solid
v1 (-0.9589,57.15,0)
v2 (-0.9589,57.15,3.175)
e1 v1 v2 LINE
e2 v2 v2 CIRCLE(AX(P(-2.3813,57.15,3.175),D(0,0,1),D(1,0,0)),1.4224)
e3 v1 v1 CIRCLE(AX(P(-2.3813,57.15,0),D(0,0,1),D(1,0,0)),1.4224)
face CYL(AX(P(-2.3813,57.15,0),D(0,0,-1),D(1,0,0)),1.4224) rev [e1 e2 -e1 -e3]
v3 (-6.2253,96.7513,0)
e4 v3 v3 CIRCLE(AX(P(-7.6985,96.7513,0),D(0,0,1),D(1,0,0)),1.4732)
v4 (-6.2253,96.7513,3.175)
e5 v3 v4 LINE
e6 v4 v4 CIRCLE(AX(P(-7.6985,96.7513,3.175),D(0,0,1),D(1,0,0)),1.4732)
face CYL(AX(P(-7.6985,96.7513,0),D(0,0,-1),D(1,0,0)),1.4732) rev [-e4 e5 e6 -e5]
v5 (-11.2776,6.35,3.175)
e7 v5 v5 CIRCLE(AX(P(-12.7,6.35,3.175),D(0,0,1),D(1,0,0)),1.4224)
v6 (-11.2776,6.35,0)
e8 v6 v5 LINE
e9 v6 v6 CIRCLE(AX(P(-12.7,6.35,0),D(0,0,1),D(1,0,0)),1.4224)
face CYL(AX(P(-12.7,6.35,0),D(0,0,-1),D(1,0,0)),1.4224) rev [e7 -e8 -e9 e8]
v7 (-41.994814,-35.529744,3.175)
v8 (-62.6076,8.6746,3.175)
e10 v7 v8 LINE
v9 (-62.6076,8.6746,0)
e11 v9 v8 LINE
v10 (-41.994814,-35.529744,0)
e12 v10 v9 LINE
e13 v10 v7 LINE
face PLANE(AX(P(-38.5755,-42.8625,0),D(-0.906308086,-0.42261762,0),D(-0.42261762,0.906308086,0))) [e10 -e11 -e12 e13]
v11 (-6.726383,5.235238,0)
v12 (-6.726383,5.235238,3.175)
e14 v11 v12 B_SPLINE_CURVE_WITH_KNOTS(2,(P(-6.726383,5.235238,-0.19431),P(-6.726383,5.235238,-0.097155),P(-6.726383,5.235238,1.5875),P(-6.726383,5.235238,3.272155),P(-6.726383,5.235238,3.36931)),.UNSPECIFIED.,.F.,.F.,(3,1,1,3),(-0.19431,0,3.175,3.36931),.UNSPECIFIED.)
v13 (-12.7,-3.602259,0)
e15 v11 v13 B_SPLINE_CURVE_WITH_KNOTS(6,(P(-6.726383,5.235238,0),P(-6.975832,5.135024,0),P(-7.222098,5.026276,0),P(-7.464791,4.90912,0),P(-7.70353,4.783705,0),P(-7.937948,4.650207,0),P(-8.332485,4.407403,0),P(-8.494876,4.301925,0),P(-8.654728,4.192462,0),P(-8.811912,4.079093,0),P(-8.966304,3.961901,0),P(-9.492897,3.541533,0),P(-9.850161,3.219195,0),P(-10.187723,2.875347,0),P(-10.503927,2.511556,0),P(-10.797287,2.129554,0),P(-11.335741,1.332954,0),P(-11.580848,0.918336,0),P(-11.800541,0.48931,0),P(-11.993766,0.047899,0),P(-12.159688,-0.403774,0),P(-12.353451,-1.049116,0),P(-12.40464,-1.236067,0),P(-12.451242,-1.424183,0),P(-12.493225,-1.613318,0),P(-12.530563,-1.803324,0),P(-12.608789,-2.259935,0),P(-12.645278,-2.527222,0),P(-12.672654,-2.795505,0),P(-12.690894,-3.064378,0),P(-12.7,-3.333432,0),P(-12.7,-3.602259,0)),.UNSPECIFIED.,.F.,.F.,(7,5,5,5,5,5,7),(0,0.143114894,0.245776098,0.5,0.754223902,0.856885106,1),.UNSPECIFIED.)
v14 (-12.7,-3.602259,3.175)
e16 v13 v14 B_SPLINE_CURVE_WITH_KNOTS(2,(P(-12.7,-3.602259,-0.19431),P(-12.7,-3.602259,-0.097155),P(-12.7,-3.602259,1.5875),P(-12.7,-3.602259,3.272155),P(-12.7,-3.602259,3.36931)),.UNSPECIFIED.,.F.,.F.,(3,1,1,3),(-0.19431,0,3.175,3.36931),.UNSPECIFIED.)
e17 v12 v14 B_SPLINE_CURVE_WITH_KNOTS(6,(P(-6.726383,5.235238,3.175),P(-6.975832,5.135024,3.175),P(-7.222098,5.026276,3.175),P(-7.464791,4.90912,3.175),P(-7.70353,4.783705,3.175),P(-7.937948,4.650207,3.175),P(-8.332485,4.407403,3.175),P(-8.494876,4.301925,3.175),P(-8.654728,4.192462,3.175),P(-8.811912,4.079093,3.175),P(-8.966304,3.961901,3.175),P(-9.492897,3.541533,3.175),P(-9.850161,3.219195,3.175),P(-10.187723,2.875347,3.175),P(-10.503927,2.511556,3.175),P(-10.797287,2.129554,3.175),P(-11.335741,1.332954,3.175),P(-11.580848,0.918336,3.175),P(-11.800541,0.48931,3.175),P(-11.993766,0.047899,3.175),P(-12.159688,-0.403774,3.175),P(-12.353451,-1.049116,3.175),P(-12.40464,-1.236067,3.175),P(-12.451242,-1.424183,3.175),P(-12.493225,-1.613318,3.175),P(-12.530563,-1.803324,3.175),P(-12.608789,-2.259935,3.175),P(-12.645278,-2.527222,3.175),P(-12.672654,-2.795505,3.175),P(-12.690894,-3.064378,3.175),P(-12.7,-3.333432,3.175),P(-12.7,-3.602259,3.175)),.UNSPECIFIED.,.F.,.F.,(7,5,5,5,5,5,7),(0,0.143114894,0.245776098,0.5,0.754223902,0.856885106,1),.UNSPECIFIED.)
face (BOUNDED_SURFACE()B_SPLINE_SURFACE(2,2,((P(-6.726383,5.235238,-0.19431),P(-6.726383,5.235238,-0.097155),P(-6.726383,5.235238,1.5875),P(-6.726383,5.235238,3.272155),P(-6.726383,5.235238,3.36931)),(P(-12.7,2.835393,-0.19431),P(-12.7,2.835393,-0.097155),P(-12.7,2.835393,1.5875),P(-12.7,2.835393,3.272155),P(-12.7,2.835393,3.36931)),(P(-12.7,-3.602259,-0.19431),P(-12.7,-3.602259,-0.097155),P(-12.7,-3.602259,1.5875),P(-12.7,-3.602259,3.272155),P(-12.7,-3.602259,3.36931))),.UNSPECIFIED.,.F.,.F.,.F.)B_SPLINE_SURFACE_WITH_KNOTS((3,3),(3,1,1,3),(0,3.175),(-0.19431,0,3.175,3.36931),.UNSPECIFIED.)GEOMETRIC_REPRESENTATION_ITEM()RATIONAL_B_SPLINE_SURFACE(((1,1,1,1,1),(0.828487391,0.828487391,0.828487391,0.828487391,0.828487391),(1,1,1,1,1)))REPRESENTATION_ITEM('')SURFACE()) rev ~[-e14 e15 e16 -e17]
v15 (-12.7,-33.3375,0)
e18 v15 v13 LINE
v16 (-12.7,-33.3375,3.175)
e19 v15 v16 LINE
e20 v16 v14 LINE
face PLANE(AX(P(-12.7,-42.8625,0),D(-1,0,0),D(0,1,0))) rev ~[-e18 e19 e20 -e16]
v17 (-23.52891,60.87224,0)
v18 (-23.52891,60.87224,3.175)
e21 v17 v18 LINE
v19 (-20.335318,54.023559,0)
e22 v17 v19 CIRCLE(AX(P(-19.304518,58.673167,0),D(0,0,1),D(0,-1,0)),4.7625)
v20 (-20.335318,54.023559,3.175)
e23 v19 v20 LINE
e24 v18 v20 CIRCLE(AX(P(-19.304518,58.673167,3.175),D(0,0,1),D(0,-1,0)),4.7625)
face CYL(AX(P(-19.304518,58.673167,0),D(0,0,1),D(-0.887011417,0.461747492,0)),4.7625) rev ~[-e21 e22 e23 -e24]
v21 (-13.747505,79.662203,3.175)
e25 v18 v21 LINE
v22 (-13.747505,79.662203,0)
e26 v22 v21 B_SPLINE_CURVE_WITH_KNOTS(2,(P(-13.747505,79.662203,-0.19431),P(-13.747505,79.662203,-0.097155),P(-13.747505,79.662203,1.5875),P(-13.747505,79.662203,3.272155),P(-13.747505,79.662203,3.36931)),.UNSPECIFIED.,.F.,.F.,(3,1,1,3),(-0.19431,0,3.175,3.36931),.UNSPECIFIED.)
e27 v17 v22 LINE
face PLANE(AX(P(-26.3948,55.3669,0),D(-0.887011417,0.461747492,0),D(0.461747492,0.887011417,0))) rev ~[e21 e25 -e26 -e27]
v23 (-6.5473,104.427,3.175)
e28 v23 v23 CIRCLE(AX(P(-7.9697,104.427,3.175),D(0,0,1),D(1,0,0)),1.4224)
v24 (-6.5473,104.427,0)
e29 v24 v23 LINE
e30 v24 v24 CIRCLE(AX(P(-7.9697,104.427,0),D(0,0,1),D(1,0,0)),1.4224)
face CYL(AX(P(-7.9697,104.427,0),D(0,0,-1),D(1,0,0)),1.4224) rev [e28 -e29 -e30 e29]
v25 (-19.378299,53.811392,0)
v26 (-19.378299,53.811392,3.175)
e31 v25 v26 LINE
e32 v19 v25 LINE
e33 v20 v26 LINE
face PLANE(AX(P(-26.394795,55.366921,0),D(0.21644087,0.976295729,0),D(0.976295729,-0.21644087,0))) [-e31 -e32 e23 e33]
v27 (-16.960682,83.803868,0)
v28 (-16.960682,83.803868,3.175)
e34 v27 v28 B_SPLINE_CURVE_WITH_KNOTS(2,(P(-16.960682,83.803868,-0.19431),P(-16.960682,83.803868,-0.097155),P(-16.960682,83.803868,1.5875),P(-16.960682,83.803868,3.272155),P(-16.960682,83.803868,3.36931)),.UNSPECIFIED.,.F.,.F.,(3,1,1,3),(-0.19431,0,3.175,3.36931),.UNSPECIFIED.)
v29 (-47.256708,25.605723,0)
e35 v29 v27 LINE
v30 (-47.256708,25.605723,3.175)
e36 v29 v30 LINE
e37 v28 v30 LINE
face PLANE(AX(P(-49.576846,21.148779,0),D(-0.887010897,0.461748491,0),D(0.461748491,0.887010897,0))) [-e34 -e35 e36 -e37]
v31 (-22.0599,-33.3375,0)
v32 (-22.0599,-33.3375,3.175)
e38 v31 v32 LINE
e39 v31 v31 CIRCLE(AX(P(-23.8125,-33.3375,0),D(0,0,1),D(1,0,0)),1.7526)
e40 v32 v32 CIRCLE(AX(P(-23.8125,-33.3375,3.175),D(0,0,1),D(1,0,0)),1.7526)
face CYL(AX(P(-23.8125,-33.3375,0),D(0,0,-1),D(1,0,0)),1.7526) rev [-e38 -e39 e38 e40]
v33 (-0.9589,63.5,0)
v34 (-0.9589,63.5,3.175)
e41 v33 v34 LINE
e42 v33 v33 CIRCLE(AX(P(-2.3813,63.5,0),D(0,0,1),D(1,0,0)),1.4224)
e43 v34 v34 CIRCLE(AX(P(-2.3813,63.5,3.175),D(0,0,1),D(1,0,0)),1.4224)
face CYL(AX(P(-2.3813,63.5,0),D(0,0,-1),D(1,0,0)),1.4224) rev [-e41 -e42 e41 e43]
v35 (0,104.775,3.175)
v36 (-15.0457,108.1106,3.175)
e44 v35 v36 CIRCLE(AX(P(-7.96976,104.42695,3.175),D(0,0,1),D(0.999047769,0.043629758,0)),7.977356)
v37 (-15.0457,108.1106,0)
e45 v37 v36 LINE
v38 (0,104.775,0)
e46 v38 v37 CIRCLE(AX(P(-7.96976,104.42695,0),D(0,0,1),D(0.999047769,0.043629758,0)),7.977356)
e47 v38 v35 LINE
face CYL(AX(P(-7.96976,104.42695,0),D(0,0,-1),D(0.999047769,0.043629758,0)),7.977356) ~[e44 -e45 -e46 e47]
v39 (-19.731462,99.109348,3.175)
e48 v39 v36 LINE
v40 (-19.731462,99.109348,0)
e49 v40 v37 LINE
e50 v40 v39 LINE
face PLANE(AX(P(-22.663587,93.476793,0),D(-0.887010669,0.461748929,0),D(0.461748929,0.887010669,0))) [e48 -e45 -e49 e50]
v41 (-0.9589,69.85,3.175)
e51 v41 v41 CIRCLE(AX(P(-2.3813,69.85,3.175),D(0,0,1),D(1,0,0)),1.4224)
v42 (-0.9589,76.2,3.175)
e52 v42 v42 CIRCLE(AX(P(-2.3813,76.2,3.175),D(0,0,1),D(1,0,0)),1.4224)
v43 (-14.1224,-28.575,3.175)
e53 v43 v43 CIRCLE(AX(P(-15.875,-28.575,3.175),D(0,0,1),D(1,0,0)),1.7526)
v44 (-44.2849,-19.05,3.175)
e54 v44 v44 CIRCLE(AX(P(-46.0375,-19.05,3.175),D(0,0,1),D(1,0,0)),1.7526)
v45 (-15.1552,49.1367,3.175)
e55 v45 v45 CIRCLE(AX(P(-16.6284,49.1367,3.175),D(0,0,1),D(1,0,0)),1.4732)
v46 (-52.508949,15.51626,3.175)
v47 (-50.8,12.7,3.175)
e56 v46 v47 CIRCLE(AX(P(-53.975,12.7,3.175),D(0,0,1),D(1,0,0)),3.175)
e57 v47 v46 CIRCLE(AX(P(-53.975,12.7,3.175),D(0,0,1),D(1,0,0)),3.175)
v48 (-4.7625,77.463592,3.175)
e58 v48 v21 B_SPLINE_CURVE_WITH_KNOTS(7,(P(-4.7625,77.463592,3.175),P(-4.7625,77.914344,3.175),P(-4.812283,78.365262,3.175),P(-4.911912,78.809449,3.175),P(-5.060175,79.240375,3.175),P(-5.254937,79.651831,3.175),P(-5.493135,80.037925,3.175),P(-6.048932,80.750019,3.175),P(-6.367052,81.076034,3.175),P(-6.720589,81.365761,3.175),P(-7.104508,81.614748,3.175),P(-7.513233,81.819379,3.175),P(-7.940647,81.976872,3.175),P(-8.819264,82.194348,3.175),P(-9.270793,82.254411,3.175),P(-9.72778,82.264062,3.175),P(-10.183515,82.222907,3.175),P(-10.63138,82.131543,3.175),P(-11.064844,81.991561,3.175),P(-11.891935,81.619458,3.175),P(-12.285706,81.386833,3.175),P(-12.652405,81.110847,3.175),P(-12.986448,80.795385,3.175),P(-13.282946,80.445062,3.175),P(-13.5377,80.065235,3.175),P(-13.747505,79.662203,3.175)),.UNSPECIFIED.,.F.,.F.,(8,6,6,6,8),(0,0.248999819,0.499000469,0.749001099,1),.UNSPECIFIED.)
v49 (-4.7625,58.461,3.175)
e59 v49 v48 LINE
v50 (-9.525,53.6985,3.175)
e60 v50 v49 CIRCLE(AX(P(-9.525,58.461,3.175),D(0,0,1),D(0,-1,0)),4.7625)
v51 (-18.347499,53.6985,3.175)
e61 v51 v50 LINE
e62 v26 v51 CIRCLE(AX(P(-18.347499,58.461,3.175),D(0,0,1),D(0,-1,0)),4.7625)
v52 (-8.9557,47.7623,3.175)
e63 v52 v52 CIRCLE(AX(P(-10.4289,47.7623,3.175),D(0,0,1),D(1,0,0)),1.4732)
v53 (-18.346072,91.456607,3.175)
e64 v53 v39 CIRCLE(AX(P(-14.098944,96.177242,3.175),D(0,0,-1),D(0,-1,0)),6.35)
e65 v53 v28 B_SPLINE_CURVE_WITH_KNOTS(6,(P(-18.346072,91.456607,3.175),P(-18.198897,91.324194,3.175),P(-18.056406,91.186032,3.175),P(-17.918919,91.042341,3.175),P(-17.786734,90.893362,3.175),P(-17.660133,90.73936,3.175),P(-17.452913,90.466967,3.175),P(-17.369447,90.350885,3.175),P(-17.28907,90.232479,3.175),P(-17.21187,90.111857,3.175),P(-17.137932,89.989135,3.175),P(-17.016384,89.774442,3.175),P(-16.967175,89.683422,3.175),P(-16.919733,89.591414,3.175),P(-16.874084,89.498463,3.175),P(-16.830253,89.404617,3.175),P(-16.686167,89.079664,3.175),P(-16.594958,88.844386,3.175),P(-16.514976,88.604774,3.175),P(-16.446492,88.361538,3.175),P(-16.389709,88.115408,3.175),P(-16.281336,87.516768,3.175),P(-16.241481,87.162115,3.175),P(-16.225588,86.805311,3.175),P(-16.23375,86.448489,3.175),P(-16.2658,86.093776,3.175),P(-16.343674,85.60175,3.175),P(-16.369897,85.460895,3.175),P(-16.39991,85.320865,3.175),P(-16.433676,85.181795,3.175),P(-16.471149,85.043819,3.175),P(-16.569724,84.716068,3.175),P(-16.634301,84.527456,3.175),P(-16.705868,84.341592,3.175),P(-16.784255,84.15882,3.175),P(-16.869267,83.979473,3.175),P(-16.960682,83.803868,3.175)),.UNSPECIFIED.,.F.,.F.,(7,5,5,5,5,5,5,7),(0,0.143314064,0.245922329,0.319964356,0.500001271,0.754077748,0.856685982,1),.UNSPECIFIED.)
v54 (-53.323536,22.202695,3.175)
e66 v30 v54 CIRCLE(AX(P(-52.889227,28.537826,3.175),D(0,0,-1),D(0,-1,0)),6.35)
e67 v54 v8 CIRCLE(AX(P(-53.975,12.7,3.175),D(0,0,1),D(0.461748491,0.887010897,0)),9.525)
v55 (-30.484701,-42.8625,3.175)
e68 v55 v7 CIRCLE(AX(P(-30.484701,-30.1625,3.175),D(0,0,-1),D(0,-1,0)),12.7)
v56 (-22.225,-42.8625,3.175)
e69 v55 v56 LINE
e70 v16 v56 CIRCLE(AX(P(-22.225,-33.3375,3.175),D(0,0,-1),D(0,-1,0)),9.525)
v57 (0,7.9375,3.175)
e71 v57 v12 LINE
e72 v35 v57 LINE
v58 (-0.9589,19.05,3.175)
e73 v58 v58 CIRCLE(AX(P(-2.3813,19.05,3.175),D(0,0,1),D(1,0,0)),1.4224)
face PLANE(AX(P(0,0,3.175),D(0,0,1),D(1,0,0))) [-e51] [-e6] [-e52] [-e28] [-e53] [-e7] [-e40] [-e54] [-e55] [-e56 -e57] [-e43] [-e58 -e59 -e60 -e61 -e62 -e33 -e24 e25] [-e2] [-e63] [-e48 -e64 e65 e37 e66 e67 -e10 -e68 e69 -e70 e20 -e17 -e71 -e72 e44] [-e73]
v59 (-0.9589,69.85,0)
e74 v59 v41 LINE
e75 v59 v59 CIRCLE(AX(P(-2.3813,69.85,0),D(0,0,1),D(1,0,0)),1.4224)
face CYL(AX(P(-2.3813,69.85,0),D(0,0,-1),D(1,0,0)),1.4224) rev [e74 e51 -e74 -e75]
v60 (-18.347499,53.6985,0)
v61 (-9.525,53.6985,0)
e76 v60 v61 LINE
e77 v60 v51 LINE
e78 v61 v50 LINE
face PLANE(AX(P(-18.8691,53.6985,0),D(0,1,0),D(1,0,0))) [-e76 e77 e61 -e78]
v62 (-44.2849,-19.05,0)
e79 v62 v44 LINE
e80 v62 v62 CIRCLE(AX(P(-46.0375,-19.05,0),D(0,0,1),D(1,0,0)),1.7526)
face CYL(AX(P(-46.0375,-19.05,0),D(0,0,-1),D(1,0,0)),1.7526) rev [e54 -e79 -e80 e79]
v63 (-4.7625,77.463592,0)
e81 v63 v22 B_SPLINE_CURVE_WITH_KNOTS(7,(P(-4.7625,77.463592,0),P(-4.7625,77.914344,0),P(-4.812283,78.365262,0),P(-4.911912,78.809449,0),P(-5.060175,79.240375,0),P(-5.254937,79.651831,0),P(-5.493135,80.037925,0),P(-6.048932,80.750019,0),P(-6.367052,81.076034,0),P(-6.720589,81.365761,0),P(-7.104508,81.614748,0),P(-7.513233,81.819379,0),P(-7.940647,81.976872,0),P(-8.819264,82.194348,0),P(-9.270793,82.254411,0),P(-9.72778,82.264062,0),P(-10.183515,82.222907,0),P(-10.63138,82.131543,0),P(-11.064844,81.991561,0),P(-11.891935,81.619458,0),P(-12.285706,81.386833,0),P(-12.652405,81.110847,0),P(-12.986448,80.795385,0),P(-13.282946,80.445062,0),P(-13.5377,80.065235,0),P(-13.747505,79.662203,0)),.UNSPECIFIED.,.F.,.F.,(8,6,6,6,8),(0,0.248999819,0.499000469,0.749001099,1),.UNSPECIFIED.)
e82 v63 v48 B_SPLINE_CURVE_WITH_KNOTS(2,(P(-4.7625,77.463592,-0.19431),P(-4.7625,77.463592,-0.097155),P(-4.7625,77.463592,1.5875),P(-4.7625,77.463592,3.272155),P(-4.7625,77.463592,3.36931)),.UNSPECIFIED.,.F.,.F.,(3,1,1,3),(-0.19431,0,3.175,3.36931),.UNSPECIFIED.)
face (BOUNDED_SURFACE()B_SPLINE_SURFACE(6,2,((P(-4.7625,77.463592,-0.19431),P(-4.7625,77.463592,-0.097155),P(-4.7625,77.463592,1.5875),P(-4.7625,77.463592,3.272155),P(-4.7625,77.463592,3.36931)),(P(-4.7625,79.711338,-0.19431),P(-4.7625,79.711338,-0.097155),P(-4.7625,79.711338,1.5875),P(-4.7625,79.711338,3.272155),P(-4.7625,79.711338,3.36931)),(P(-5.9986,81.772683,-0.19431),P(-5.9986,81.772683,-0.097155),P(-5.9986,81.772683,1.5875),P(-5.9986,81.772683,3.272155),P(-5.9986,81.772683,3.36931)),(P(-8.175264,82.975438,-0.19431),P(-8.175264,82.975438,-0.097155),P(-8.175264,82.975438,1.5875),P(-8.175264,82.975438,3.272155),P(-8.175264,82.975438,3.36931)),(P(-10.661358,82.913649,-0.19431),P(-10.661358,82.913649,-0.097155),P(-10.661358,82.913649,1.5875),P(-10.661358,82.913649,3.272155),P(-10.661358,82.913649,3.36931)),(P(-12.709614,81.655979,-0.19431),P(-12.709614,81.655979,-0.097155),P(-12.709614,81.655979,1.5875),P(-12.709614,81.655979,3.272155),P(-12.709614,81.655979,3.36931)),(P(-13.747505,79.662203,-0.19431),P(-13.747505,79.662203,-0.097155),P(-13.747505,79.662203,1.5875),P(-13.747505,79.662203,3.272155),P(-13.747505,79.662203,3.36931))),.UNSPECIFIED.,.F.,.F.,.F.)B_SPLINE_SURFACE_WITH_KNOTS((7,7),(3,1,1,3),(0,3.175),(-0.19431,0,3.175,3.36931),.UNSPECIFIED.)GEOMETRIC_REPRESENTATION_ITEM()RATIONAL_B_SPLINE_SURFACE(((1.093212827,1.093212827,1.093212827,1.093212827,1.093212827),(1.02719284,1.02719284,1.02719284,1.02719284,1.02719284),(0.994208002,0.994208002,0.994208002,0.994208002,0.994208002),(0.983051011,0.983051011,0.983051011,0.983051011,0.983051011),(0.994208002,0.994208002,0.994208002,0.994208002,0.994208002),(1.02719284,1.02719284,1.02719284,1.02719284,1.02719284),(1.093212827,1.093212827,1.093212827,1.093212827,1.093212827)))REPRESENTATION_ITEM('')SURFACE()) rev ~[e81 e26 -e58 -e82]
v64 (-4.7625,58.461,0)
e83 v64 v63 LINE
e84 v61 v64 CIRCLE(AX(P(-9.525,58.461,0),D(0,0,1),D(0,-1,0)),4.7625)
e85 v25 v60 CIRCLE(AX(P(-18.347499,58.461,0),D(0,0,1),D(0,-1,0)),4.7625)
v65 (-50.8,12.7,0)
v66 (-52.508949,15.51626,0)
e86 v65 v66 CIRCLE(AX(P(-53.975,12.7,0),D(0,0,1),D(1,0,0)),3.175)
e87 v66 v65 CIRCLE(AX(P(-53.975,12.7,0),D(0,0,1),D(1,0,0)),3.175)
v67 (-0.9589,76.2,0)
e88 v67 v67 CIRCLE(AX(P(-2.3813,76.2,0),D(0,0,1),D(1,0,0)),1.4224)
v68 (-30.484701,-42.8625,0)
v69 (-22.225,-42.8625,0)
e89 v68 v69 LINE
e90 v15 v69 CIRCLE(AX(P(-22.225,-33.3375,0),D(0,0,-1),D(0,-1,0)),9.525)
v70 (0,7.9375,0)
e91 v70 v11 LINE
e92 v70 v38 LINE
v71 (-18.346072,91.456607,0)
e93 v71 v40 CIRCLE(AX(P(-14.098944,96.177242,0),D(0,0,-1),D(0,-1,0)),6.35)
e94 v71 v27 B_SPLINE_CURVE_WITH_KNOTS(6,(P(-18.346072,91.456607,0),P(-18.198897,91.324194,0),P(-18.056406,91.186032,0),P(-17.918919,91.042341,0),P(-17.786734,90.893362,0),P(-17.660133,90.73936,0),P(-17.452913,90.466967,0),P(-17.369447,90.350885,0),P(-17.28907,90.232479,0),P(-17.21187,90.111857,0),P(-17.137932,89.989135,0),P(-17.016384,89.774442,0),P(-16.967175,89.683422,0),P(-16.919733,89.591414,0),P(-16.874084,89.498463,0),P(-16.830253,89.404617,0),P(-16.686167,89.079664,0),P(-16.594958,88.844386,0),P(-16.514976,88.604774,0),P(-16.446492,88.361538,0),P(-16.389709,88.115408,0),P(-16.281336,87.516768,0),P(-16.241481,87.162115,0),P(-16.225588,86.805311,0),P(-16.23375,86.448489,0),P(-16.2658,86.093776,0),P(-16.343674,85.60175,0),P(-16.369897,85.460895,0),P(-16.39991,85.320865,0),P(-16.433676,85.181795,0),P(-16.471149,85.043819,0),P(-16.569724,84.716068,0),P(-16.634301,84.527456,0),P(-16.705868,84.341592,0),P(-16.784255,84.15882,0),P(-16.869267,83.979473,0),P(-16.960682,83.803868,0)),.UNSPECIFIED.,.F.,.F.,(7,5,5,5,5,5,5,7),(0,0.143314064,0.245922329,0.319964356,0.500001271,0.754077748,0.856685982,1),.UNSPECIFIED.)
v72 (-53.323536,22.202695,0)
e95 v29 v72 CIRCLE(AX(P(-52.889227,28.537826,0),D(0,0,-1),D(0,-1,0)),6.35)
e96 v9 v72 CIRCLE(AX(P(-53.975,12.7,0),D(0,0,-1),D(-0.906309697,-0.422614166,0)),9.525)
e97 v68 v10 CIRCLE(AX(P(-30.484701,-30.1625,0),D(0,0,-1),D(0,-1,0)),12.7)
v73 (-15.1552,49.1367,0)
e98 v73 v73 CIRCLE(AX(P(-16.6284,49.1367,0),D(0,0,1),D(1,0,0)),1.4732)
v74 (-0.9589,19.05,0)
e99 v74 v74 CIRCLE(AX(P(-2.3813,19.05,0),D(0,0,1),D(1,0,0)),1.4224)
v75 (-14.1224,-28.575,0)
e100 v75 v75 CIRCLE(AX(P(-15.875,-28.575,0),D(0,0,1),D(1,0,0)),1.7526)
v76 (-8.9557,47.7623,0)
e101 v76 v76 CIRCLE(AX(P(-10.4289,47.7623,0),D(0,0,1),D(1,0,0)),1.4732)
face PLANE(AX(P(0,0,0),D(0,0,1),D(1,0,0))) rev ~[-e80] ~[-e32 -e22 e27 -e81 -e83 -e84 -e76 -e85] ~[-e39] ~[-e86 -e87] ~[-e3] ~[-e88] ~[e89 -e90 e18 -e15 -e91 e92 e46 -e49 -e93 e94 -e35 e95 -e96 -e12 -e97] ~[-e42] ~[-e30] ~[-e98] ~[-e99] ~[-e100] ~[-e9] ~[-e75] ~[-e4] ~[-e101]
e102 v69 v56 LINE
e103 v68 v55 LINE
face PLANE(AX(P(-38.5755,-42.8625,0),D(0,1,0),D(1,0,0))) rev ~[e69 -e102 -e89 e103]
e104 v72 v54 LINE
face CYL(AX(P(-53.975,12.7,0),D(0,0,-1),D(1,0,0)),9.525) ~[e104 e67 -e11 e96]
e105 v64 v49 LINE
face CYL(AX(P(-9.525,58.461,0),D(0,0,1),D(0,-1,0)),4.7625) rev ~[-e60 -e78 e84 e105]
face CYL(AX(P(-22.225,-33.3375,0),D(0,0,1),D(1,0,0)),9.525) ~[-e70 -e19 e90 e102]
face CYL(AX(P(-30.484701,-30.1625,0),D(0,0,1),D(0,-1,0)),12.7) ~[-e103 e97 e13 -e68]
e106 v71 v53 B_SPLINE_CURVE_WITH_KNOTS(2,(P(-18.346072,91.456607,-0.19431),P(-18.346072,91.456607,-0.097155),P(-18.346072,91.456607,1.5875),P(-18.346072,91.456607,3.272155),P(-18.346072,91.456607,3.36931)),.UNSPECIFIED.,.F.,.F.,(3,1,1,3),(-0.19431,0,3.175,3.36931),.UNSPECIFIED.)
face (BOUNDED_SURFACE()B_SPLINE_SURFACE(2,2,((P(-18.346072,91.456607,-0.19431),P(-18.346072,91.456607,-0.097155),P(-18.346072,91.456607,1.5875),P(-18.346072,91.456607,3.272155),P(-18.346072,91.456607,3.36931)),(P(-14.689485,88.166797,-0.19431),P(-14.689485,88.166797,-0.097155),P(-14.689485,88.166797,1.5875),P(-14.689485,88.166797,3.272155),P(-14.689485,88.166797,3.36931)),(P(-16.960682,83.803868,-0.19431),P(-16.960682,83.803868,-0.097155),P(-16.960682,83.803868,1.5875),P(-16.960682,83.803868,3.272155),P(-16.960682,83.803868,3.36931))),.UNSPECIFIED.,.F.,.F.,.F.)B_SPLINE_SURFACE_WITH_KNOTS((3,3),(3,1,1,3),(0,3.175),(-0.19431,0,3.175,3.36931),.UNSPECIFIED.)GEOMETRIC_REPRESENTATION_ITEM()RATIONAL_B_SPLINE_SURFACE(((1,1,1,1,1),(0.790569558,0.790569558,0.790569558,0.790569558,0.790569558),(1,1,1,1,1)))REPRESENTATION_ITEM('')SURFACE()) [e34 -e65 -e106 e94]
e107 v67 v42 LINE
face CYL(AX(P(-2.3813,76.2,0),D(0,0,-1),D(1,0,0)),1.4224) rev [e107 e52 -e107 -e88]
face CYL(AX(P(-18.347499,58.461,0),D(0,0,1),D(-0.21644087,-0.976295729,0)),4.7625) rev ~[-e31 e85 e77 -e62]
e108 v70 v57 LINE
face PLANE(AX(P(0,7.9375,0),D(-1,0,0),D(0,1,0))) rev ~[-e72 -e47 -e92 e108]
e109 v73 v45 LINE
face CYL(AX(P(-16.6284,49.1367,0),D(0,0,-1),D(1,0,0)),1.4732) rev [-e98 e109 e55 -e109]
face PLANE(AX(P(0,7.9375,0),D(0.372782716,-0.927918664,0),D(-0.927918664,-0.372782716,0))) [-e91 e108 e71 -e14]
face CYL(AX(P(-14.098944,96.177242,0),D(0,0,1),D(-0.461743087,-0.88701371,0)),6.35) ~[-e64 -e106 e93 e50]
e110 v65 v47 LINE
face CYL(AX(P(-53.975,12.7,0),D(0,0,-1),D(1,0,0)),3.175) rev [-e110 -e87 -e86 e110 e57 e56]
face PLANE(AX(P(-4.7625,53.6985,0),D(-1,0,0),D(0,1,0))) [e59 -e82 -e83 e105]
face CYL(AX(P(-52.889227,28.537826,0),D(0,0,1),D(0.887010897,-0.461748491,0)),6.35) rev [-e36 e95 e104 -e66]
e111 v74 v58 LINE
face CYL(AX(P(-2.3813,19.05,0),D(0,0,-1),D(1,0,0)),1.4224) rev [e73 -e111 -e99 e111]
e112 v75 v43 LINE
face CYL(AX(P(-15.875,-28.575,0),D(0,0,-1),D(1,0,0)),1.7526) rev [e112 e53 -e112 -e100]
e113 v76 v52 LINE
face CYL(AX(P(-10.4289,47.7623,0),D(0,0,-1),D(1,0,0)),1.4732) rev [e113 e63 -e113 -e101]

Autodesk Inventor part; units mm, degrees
ref_plane "YZ Plane" through (0, 0, 0) normal (1, 0, 0) x (0, 1, 0)
ref_plane "XZ Plane" through (0, 0, 0) normal (0, 1, 0) x (-1, 0, 0)
ref_plane "XY Plane" through (0, 0, 0) normal (0, 0, 1) x (1, 0, 0)
sketch "Sketch1" plane through (0, 0, 0) normal (0, 0, 1) x (1, 0, 0)
  line L0 (0, 0) -> (0, 137.0131)
  line L1 (-11.7886, 12.2907) -> (-39.6863, 18.4755) construction
  line L2 (-39.6863, 18.4755) -> (-33.3297, 47.1481) construction
  line L3 (-33.3297, 47.1481) -> (-5.432, 40.9633) construction
  line L4 (-5.432, 40.9633) -> (-11.7886, 12.2907) construction
  line L5 (-39.6863, 18.4755) -> (-5.432, 40.9633) construction
  line L6 (-33.3297, 47.1481) -> (-11.7886, 12.2907) construction
  circle A0 centre (-53.975, 12.7) radius 3.175
  circle A1 centre (-53.975, 12.7) radius 9.525
  line L7 (0, 0) -> (-54.5315, 3.1913) construction
  line L8 (-62.4238, 17.0982) -> (0, 137.0131)
  line L9 (-27.1302, 45.7737) -> (-37.4529, 28.5497) construction
  line L10 (-11.6315, 42.3377) -> (-9.5552, 22.3649) construction
  line L11 (-19.3809, 44.0557) -> (-25.7374, 15.3831) construction
  line L12 (0, 104.775) -> (-15.0457, 108.1106)
  line L13 (-35.3766, 8.5768) -> (-19.8779, 5.1408) construction
  line L14 (-19.8779, 5.1408) -> (-21.2523, -1.0586) construction
  line L15 (-21.2523, -1.0586) -> (-36.751, 2.3773) construction
  line L16 (-36.751, 2.3773) -> (-35.3766, 8.5768) construction
  line L17 (-35.3766, 8.5768) -> (-44.7305, 2.6177) construction
  line L18 (-19.8779, 5.1408) -> (-17.2457, 1.0092) construction
  line L19 (-5.432, 40.9633) -> (-33.3297, 47.1481) construction
  line L20 (-33.3297, 47.1481) -> (-32.2475, 52.0296) construction
  line L21 (-32.2475, 52.0296) -> (-4.3498, 45.8448) construction
  line L22 (-4.3498, 45.8448) -> (-5.432, 40.9633) construction
  line L23 (-53.2878, 15.7997) -> (-53.975, 12.7) construction
  line L24 (-53.975, 12.7) -> (-57.0747, 13.3872) construction
  line L25 (-27.6272, 6.8588) -> (-34.4992, -24.1386) construction
  line L26 (-31.8676, 50.076) -> (-5.5198, 44.2349) construction
  line L27 (-5.5198, 44.2349) -> (-4.489, 48.8845) construction
  line L28 (-4.489, 48.8845) -> (-30.8368, 54.7256) construction
  line L29 (-30.8368, 54.7256) -> (-31.8676, 50.076) construction
  line L30 (-31.3522, 52.4008) -> (-5.0044, 46.5597) construction
  circle A2 centre (-29.0274, 51.8854) radius 1.4732 construction
  circle A3 centre (-22.8279, 50.5111) radius 1.4732 construction
  circle A4 centre (-16.6284, 49.1367) radius 1.4732
  circle A5 centre (-10.4289, 47.7623) radius 1.4732
  circle A6 centre (-7.6985, 96.7513) radius 1.4732
  line L31 (-53.975, 12.7) -> (-5.4185, 105.9762)
  line L32 (-31.2085, 56.4341) -> (0, 49.5153)
  circle A7 centre (-7.6985, 96.7513) radius 4.7625
  line L33 (-4.7625, 50.5712) -> (-4.7625, 105.8308)
  line L34 (-26.3948, 55.3669) -> (-7.323, 92.0036)
  line L35 (-3.5958, 94.3328) -> (-4.7625, 94.5914) construction
  line L36 (-17.2457, 1.0092) -> (0, 1.0092) construction
  line L37 (0, 1.0092) -> (0, -2.1658) construction
  line L38 (0, -2.1658) -> (-17.2457, -2.1658) construction
  line L39 (-17.2457, -2.1658) -> (-17.2457, 1.0092) construction
  circle A8 centre (-12.7, 7.9375) radius 1.5875 construction
  line L40 (-12.7, 7.9375) -> (0, 7.9375) construction
  line L41 (0, 7.9375) -> (-17.2457, 1.0092)
  circle A9 centre (-12.7, 7.9375) radius 3.175 construction
  line L42 (-9.525, 7.9375) -> (-9.525, 4.111) construction
  line L43 (-9.525, 7.9375) -> (0, 7.9375) construction
  line L44 (-17.9187, 46.9837) -> (-16.8879, 51.6333) construction
  line L45 (-12.4942, 45.7811) -> (-26.2381, -16.2137) construction
  line L46 (0, 53.6985) -> (0, 7.9375) construction
  line L47 (-26.2381, -16.2137) -> (-20.0386, -17.5881) construction
  line L48 (-20.0386, -17.5881) -> (-8.7313, 7.9375)
  circle A10 centre (-12.7, 6.35) radius 1.4224
  line L49 (0, 13.4938) -> (-4.7625, 13.4938) construction
  line L50 (-4.7625, 13.4938) -> (-4.7625, 24.6063) construction
  line L51 (-4.7625, 24.6063) -> (0, 24.6063) construction
  line L52 (0, 24.6063) -> (0, 13.4938) construction
  line L53 (-4.7625, 19.05) -> (0, 19.05) construction
  circle A11 centre (-2.3813, 19.05) radius 1.4224
  line L54 (-20.7405, 8.5842) -> (-9.7454, 58.18) construction
  line L55 (-9.7454, 58.18) -> (-3.5459, 56.8056) construction
  line L56 (-3.5459, 56.8056) -> (-14.5411, 7.2098) construction
  line L57 (-14.5411, 7.2098) -> (-20.7405, 8.5842) construction
  line L58 (-12.7, 6.35) -> (-12.7, 7.9375) construction
  line L59 (-11.5442, 1.5875) -> (-9.525, 1.5875) construction
  line L60 (-9.525, 1.5875) -> (-9.525, 7.9375) construction
  line L61 (-9.525, 7.9375) -> (-11.5442, 7.9375) construction
  line L62 (-11.5442, 7.9375) -> (-11.5442, 1.5875) construction
  line L63 (-9.7454, 58.18) -> (-15.9449, 59.5544) construction
  line L64 (-18.8691, 53.6985) -> (0, 53.6985)
  line L65 (-9.7454, 58.18) -> (-17.3193, 53.3549) construction
  arc A12 (-10.2313, 55.9882) -> (-11.9373, 58.6659) centre (-11.0843, 57.3271) ccw construction
  line L66 (-4.7625, 57.15) -> (0, 57.15) construction
  circle A13 centre (-2.3813, 57.15) radius 1.4224
  circle A14 centre (-2.3813, 63.5) radius 1.4224
  line L67 (0, 7.9375) -> (-38.5755, 7.9375) construction
  line L68 (-38.5755, 7.9375) -> (-38.5755, -42.8625) construction
  line L69 (-38.5755, -42.8625) -> (0, -42.8625)
  line L70 (0, -42.8625) -> (0, 7.9375)
  line L71 (-38.5755, -42.8625) -> (-62.6076, 8.6746)
  line L72 (-60.0032, 20.0747) -> (-18.8691, 53.6985)
  line L73 (-20.0386, -17.5881) -> (-20.0386, -42.8625) construction
  line L74 (-20.2435, 47.4991) -> (-19.2127, 52.1487) construction
  line L75 (-12.7, -42.8625) -> (-12.7, -1.0217)
  circle A15 centre (-23.8125, -33.3375) radius 1.7526
  circle A16 centre (-15.875, -28.575) radius 1.7526
  circle A17 centre (-23.8125, -33.3375) radius 3.175 construction
  circle A18 centre (-2.3813, 69.85) radius 1.4224
  circle A19 centre (-2.3813, 76.2) radius 1.4224
  circle A20 centre (-15.875, -28.575) radius 3.175 construction
  circle A21 centre (-46.0375, -19.05) radius 1.7526
  arc A22 (0, 104.775) -> (-15.0457, 108.1106) centre (-7.9697, 104.427) ccw
  circle A23 centre (-7.9697, 104.427) radius 1.4224
  line L76 (-7.9697, 104.427) -> (-15.0457, 108.1106) construction
  line L77 (-7.9697, 104.427) -> (0, 104.775) construction
  line L78 (-14.2148, 89.0787) -> (-22.6636, 93.4768)
  point P0 (-22.5591, 29.7194)
  point P1 (-20.7484, 1.2142)
  point P2 (-36.3367, 4.2458)
  point P3 (-49.5768, 21.1488)
  point P4 (-11.1125, 7.9375)
  point P5 (-11.4283, 6.9872)
  point P6 (-11.9574, 7.9375)
  point P7 (-13.9717, 6.9872)
  point P8 (-9.525, 6.1457)
  point P9 (-10.6215, 3.6705)
  point P10 (-4.7625, 93.0015)
  point P11 (-4.7625, 53.6985)
  dimension "d74" = 6.35
  dimension "d14" = 29.3687
  dimension "d15" = 28.575
  dimension "d16" = 12.5
  dimension "d17" = 6.35
  dimension "d19" = 53.975
  dimension "d22" = 19.05
  dimension "d23" = 7.9375
  dimension "d24" = 19.05
  dimension "d26" = 102.5
  dimension "d29" = 6.35
  dimension "d31" = 7.9375
  dimension "d34" = 5
  dimension "d35" = 26.9875
  dimension "d38" = 31.75
  dimension "d40" = 26.9875
  dimension "d41" = 4.7625
  dimension "d42" = 2.9464
  dimension "d43" = 2.3813
  dimension "d46" = 6.35
  dimension "d51" = 2.9464
  dimension "d52" = 92.075
  dimension "d53" = 6.35
  dimension "d54" = 9.525
  dimension "d55" = 4.7625
  dimension "d56" = 4.7625
  dimension "d60" = 12.7
  dimension "d61" = 3.175
  dimension "d63" = 3.175
  dimension "d66" = 3.175
  dimension "d67" = 12.7
  dimension "d72" = 8.7312
  dimension "d73" = 7.9375
  dimension "d80" = 12.7
  dimension "d82" = 7.9375
  dimension "d83" = 63.5
  dimension "d85" = 6.35
  dimension "d86" = 104.775
  dimension "d87" = 2.8448
  dimension "d88" = 4.7625
  dimension "d89" = 11.1125
  dimension "d90" = 2.8448
  dimension "d91" = 19.05
  dimension "d92" = 6.35
  dimension "d93" = 50.8
  dimension "d94" = 25.4
  dimension "d95" = 8.7312
  dimension "d96" = 9.525
  dimension "d97" = 6.35
  dimension "d99" = 6.35
  dimension "d101" = 3.175
  dimension "d106" = 2.8448
  dimension "d107" = 57.15
  dimension "d110" = 6.35
  dimension "d136" = 3.175
  dimension "d138" = 42.8625
  dimension "d139" = 12.7
  dimension "d140" = 3.5052
  dimension "d141" = 3.5052
  dimension "d142" = 9.525
  dimension "d143" = 3.175
  dimension "d144" = 11.1125
  dimension "d145" = 6.35
  dimension "d146" = 14.2875
  dimension "d149" = 6.35
extrude "Extrusion1" add sketch "Sketch1" along normal blind 3.175 contours L41 L48 L75 L69 L71 A1 L31 L72 L32 L0 | L32 L33 L64 L0 | L64 L33 A7 L12 L0 | L32 L64 L33 | L12 A22 | L72 L31 L32 | A1 | L33 A7 L31 L12 | L12 L31 A7 L78 L8 | L33 A7 | A7 L31 L33 | L32 L31 A7 L34 | L31 A7
fillet "Fillet6" radius 12.7 1 edges at (-38.5755, -42.8625, 1.5875)
fillet "Fillet7" radius 6.35 3 edges at (-22.6636, 93.4768, 1.5875) (-14.2148, 89.0787, 1.5875) (-49.5768, 21.1488, 1.5875)
fillet "Fillet8" radius 4.7625 5 edges at (-4.7625, 93.0015, 1.5875) (-7.323, 92.0036, 1.5875) (-26.3948, 55.3669, 1.5875) (-18.8691, 53.6985, 1.5875) (-4.7625, 53.6985, 1.5875)
fillet "Fillet9" radius 9.525 3 edges at (-10.6215, 3.6705, 1.5875) (-12.7, -1.0217, 1.5875) (-12.7, -42.8625, 1.5875)
equation "\"d56\" = d55"
properties part number "Uprights" material "UHMW, White"
